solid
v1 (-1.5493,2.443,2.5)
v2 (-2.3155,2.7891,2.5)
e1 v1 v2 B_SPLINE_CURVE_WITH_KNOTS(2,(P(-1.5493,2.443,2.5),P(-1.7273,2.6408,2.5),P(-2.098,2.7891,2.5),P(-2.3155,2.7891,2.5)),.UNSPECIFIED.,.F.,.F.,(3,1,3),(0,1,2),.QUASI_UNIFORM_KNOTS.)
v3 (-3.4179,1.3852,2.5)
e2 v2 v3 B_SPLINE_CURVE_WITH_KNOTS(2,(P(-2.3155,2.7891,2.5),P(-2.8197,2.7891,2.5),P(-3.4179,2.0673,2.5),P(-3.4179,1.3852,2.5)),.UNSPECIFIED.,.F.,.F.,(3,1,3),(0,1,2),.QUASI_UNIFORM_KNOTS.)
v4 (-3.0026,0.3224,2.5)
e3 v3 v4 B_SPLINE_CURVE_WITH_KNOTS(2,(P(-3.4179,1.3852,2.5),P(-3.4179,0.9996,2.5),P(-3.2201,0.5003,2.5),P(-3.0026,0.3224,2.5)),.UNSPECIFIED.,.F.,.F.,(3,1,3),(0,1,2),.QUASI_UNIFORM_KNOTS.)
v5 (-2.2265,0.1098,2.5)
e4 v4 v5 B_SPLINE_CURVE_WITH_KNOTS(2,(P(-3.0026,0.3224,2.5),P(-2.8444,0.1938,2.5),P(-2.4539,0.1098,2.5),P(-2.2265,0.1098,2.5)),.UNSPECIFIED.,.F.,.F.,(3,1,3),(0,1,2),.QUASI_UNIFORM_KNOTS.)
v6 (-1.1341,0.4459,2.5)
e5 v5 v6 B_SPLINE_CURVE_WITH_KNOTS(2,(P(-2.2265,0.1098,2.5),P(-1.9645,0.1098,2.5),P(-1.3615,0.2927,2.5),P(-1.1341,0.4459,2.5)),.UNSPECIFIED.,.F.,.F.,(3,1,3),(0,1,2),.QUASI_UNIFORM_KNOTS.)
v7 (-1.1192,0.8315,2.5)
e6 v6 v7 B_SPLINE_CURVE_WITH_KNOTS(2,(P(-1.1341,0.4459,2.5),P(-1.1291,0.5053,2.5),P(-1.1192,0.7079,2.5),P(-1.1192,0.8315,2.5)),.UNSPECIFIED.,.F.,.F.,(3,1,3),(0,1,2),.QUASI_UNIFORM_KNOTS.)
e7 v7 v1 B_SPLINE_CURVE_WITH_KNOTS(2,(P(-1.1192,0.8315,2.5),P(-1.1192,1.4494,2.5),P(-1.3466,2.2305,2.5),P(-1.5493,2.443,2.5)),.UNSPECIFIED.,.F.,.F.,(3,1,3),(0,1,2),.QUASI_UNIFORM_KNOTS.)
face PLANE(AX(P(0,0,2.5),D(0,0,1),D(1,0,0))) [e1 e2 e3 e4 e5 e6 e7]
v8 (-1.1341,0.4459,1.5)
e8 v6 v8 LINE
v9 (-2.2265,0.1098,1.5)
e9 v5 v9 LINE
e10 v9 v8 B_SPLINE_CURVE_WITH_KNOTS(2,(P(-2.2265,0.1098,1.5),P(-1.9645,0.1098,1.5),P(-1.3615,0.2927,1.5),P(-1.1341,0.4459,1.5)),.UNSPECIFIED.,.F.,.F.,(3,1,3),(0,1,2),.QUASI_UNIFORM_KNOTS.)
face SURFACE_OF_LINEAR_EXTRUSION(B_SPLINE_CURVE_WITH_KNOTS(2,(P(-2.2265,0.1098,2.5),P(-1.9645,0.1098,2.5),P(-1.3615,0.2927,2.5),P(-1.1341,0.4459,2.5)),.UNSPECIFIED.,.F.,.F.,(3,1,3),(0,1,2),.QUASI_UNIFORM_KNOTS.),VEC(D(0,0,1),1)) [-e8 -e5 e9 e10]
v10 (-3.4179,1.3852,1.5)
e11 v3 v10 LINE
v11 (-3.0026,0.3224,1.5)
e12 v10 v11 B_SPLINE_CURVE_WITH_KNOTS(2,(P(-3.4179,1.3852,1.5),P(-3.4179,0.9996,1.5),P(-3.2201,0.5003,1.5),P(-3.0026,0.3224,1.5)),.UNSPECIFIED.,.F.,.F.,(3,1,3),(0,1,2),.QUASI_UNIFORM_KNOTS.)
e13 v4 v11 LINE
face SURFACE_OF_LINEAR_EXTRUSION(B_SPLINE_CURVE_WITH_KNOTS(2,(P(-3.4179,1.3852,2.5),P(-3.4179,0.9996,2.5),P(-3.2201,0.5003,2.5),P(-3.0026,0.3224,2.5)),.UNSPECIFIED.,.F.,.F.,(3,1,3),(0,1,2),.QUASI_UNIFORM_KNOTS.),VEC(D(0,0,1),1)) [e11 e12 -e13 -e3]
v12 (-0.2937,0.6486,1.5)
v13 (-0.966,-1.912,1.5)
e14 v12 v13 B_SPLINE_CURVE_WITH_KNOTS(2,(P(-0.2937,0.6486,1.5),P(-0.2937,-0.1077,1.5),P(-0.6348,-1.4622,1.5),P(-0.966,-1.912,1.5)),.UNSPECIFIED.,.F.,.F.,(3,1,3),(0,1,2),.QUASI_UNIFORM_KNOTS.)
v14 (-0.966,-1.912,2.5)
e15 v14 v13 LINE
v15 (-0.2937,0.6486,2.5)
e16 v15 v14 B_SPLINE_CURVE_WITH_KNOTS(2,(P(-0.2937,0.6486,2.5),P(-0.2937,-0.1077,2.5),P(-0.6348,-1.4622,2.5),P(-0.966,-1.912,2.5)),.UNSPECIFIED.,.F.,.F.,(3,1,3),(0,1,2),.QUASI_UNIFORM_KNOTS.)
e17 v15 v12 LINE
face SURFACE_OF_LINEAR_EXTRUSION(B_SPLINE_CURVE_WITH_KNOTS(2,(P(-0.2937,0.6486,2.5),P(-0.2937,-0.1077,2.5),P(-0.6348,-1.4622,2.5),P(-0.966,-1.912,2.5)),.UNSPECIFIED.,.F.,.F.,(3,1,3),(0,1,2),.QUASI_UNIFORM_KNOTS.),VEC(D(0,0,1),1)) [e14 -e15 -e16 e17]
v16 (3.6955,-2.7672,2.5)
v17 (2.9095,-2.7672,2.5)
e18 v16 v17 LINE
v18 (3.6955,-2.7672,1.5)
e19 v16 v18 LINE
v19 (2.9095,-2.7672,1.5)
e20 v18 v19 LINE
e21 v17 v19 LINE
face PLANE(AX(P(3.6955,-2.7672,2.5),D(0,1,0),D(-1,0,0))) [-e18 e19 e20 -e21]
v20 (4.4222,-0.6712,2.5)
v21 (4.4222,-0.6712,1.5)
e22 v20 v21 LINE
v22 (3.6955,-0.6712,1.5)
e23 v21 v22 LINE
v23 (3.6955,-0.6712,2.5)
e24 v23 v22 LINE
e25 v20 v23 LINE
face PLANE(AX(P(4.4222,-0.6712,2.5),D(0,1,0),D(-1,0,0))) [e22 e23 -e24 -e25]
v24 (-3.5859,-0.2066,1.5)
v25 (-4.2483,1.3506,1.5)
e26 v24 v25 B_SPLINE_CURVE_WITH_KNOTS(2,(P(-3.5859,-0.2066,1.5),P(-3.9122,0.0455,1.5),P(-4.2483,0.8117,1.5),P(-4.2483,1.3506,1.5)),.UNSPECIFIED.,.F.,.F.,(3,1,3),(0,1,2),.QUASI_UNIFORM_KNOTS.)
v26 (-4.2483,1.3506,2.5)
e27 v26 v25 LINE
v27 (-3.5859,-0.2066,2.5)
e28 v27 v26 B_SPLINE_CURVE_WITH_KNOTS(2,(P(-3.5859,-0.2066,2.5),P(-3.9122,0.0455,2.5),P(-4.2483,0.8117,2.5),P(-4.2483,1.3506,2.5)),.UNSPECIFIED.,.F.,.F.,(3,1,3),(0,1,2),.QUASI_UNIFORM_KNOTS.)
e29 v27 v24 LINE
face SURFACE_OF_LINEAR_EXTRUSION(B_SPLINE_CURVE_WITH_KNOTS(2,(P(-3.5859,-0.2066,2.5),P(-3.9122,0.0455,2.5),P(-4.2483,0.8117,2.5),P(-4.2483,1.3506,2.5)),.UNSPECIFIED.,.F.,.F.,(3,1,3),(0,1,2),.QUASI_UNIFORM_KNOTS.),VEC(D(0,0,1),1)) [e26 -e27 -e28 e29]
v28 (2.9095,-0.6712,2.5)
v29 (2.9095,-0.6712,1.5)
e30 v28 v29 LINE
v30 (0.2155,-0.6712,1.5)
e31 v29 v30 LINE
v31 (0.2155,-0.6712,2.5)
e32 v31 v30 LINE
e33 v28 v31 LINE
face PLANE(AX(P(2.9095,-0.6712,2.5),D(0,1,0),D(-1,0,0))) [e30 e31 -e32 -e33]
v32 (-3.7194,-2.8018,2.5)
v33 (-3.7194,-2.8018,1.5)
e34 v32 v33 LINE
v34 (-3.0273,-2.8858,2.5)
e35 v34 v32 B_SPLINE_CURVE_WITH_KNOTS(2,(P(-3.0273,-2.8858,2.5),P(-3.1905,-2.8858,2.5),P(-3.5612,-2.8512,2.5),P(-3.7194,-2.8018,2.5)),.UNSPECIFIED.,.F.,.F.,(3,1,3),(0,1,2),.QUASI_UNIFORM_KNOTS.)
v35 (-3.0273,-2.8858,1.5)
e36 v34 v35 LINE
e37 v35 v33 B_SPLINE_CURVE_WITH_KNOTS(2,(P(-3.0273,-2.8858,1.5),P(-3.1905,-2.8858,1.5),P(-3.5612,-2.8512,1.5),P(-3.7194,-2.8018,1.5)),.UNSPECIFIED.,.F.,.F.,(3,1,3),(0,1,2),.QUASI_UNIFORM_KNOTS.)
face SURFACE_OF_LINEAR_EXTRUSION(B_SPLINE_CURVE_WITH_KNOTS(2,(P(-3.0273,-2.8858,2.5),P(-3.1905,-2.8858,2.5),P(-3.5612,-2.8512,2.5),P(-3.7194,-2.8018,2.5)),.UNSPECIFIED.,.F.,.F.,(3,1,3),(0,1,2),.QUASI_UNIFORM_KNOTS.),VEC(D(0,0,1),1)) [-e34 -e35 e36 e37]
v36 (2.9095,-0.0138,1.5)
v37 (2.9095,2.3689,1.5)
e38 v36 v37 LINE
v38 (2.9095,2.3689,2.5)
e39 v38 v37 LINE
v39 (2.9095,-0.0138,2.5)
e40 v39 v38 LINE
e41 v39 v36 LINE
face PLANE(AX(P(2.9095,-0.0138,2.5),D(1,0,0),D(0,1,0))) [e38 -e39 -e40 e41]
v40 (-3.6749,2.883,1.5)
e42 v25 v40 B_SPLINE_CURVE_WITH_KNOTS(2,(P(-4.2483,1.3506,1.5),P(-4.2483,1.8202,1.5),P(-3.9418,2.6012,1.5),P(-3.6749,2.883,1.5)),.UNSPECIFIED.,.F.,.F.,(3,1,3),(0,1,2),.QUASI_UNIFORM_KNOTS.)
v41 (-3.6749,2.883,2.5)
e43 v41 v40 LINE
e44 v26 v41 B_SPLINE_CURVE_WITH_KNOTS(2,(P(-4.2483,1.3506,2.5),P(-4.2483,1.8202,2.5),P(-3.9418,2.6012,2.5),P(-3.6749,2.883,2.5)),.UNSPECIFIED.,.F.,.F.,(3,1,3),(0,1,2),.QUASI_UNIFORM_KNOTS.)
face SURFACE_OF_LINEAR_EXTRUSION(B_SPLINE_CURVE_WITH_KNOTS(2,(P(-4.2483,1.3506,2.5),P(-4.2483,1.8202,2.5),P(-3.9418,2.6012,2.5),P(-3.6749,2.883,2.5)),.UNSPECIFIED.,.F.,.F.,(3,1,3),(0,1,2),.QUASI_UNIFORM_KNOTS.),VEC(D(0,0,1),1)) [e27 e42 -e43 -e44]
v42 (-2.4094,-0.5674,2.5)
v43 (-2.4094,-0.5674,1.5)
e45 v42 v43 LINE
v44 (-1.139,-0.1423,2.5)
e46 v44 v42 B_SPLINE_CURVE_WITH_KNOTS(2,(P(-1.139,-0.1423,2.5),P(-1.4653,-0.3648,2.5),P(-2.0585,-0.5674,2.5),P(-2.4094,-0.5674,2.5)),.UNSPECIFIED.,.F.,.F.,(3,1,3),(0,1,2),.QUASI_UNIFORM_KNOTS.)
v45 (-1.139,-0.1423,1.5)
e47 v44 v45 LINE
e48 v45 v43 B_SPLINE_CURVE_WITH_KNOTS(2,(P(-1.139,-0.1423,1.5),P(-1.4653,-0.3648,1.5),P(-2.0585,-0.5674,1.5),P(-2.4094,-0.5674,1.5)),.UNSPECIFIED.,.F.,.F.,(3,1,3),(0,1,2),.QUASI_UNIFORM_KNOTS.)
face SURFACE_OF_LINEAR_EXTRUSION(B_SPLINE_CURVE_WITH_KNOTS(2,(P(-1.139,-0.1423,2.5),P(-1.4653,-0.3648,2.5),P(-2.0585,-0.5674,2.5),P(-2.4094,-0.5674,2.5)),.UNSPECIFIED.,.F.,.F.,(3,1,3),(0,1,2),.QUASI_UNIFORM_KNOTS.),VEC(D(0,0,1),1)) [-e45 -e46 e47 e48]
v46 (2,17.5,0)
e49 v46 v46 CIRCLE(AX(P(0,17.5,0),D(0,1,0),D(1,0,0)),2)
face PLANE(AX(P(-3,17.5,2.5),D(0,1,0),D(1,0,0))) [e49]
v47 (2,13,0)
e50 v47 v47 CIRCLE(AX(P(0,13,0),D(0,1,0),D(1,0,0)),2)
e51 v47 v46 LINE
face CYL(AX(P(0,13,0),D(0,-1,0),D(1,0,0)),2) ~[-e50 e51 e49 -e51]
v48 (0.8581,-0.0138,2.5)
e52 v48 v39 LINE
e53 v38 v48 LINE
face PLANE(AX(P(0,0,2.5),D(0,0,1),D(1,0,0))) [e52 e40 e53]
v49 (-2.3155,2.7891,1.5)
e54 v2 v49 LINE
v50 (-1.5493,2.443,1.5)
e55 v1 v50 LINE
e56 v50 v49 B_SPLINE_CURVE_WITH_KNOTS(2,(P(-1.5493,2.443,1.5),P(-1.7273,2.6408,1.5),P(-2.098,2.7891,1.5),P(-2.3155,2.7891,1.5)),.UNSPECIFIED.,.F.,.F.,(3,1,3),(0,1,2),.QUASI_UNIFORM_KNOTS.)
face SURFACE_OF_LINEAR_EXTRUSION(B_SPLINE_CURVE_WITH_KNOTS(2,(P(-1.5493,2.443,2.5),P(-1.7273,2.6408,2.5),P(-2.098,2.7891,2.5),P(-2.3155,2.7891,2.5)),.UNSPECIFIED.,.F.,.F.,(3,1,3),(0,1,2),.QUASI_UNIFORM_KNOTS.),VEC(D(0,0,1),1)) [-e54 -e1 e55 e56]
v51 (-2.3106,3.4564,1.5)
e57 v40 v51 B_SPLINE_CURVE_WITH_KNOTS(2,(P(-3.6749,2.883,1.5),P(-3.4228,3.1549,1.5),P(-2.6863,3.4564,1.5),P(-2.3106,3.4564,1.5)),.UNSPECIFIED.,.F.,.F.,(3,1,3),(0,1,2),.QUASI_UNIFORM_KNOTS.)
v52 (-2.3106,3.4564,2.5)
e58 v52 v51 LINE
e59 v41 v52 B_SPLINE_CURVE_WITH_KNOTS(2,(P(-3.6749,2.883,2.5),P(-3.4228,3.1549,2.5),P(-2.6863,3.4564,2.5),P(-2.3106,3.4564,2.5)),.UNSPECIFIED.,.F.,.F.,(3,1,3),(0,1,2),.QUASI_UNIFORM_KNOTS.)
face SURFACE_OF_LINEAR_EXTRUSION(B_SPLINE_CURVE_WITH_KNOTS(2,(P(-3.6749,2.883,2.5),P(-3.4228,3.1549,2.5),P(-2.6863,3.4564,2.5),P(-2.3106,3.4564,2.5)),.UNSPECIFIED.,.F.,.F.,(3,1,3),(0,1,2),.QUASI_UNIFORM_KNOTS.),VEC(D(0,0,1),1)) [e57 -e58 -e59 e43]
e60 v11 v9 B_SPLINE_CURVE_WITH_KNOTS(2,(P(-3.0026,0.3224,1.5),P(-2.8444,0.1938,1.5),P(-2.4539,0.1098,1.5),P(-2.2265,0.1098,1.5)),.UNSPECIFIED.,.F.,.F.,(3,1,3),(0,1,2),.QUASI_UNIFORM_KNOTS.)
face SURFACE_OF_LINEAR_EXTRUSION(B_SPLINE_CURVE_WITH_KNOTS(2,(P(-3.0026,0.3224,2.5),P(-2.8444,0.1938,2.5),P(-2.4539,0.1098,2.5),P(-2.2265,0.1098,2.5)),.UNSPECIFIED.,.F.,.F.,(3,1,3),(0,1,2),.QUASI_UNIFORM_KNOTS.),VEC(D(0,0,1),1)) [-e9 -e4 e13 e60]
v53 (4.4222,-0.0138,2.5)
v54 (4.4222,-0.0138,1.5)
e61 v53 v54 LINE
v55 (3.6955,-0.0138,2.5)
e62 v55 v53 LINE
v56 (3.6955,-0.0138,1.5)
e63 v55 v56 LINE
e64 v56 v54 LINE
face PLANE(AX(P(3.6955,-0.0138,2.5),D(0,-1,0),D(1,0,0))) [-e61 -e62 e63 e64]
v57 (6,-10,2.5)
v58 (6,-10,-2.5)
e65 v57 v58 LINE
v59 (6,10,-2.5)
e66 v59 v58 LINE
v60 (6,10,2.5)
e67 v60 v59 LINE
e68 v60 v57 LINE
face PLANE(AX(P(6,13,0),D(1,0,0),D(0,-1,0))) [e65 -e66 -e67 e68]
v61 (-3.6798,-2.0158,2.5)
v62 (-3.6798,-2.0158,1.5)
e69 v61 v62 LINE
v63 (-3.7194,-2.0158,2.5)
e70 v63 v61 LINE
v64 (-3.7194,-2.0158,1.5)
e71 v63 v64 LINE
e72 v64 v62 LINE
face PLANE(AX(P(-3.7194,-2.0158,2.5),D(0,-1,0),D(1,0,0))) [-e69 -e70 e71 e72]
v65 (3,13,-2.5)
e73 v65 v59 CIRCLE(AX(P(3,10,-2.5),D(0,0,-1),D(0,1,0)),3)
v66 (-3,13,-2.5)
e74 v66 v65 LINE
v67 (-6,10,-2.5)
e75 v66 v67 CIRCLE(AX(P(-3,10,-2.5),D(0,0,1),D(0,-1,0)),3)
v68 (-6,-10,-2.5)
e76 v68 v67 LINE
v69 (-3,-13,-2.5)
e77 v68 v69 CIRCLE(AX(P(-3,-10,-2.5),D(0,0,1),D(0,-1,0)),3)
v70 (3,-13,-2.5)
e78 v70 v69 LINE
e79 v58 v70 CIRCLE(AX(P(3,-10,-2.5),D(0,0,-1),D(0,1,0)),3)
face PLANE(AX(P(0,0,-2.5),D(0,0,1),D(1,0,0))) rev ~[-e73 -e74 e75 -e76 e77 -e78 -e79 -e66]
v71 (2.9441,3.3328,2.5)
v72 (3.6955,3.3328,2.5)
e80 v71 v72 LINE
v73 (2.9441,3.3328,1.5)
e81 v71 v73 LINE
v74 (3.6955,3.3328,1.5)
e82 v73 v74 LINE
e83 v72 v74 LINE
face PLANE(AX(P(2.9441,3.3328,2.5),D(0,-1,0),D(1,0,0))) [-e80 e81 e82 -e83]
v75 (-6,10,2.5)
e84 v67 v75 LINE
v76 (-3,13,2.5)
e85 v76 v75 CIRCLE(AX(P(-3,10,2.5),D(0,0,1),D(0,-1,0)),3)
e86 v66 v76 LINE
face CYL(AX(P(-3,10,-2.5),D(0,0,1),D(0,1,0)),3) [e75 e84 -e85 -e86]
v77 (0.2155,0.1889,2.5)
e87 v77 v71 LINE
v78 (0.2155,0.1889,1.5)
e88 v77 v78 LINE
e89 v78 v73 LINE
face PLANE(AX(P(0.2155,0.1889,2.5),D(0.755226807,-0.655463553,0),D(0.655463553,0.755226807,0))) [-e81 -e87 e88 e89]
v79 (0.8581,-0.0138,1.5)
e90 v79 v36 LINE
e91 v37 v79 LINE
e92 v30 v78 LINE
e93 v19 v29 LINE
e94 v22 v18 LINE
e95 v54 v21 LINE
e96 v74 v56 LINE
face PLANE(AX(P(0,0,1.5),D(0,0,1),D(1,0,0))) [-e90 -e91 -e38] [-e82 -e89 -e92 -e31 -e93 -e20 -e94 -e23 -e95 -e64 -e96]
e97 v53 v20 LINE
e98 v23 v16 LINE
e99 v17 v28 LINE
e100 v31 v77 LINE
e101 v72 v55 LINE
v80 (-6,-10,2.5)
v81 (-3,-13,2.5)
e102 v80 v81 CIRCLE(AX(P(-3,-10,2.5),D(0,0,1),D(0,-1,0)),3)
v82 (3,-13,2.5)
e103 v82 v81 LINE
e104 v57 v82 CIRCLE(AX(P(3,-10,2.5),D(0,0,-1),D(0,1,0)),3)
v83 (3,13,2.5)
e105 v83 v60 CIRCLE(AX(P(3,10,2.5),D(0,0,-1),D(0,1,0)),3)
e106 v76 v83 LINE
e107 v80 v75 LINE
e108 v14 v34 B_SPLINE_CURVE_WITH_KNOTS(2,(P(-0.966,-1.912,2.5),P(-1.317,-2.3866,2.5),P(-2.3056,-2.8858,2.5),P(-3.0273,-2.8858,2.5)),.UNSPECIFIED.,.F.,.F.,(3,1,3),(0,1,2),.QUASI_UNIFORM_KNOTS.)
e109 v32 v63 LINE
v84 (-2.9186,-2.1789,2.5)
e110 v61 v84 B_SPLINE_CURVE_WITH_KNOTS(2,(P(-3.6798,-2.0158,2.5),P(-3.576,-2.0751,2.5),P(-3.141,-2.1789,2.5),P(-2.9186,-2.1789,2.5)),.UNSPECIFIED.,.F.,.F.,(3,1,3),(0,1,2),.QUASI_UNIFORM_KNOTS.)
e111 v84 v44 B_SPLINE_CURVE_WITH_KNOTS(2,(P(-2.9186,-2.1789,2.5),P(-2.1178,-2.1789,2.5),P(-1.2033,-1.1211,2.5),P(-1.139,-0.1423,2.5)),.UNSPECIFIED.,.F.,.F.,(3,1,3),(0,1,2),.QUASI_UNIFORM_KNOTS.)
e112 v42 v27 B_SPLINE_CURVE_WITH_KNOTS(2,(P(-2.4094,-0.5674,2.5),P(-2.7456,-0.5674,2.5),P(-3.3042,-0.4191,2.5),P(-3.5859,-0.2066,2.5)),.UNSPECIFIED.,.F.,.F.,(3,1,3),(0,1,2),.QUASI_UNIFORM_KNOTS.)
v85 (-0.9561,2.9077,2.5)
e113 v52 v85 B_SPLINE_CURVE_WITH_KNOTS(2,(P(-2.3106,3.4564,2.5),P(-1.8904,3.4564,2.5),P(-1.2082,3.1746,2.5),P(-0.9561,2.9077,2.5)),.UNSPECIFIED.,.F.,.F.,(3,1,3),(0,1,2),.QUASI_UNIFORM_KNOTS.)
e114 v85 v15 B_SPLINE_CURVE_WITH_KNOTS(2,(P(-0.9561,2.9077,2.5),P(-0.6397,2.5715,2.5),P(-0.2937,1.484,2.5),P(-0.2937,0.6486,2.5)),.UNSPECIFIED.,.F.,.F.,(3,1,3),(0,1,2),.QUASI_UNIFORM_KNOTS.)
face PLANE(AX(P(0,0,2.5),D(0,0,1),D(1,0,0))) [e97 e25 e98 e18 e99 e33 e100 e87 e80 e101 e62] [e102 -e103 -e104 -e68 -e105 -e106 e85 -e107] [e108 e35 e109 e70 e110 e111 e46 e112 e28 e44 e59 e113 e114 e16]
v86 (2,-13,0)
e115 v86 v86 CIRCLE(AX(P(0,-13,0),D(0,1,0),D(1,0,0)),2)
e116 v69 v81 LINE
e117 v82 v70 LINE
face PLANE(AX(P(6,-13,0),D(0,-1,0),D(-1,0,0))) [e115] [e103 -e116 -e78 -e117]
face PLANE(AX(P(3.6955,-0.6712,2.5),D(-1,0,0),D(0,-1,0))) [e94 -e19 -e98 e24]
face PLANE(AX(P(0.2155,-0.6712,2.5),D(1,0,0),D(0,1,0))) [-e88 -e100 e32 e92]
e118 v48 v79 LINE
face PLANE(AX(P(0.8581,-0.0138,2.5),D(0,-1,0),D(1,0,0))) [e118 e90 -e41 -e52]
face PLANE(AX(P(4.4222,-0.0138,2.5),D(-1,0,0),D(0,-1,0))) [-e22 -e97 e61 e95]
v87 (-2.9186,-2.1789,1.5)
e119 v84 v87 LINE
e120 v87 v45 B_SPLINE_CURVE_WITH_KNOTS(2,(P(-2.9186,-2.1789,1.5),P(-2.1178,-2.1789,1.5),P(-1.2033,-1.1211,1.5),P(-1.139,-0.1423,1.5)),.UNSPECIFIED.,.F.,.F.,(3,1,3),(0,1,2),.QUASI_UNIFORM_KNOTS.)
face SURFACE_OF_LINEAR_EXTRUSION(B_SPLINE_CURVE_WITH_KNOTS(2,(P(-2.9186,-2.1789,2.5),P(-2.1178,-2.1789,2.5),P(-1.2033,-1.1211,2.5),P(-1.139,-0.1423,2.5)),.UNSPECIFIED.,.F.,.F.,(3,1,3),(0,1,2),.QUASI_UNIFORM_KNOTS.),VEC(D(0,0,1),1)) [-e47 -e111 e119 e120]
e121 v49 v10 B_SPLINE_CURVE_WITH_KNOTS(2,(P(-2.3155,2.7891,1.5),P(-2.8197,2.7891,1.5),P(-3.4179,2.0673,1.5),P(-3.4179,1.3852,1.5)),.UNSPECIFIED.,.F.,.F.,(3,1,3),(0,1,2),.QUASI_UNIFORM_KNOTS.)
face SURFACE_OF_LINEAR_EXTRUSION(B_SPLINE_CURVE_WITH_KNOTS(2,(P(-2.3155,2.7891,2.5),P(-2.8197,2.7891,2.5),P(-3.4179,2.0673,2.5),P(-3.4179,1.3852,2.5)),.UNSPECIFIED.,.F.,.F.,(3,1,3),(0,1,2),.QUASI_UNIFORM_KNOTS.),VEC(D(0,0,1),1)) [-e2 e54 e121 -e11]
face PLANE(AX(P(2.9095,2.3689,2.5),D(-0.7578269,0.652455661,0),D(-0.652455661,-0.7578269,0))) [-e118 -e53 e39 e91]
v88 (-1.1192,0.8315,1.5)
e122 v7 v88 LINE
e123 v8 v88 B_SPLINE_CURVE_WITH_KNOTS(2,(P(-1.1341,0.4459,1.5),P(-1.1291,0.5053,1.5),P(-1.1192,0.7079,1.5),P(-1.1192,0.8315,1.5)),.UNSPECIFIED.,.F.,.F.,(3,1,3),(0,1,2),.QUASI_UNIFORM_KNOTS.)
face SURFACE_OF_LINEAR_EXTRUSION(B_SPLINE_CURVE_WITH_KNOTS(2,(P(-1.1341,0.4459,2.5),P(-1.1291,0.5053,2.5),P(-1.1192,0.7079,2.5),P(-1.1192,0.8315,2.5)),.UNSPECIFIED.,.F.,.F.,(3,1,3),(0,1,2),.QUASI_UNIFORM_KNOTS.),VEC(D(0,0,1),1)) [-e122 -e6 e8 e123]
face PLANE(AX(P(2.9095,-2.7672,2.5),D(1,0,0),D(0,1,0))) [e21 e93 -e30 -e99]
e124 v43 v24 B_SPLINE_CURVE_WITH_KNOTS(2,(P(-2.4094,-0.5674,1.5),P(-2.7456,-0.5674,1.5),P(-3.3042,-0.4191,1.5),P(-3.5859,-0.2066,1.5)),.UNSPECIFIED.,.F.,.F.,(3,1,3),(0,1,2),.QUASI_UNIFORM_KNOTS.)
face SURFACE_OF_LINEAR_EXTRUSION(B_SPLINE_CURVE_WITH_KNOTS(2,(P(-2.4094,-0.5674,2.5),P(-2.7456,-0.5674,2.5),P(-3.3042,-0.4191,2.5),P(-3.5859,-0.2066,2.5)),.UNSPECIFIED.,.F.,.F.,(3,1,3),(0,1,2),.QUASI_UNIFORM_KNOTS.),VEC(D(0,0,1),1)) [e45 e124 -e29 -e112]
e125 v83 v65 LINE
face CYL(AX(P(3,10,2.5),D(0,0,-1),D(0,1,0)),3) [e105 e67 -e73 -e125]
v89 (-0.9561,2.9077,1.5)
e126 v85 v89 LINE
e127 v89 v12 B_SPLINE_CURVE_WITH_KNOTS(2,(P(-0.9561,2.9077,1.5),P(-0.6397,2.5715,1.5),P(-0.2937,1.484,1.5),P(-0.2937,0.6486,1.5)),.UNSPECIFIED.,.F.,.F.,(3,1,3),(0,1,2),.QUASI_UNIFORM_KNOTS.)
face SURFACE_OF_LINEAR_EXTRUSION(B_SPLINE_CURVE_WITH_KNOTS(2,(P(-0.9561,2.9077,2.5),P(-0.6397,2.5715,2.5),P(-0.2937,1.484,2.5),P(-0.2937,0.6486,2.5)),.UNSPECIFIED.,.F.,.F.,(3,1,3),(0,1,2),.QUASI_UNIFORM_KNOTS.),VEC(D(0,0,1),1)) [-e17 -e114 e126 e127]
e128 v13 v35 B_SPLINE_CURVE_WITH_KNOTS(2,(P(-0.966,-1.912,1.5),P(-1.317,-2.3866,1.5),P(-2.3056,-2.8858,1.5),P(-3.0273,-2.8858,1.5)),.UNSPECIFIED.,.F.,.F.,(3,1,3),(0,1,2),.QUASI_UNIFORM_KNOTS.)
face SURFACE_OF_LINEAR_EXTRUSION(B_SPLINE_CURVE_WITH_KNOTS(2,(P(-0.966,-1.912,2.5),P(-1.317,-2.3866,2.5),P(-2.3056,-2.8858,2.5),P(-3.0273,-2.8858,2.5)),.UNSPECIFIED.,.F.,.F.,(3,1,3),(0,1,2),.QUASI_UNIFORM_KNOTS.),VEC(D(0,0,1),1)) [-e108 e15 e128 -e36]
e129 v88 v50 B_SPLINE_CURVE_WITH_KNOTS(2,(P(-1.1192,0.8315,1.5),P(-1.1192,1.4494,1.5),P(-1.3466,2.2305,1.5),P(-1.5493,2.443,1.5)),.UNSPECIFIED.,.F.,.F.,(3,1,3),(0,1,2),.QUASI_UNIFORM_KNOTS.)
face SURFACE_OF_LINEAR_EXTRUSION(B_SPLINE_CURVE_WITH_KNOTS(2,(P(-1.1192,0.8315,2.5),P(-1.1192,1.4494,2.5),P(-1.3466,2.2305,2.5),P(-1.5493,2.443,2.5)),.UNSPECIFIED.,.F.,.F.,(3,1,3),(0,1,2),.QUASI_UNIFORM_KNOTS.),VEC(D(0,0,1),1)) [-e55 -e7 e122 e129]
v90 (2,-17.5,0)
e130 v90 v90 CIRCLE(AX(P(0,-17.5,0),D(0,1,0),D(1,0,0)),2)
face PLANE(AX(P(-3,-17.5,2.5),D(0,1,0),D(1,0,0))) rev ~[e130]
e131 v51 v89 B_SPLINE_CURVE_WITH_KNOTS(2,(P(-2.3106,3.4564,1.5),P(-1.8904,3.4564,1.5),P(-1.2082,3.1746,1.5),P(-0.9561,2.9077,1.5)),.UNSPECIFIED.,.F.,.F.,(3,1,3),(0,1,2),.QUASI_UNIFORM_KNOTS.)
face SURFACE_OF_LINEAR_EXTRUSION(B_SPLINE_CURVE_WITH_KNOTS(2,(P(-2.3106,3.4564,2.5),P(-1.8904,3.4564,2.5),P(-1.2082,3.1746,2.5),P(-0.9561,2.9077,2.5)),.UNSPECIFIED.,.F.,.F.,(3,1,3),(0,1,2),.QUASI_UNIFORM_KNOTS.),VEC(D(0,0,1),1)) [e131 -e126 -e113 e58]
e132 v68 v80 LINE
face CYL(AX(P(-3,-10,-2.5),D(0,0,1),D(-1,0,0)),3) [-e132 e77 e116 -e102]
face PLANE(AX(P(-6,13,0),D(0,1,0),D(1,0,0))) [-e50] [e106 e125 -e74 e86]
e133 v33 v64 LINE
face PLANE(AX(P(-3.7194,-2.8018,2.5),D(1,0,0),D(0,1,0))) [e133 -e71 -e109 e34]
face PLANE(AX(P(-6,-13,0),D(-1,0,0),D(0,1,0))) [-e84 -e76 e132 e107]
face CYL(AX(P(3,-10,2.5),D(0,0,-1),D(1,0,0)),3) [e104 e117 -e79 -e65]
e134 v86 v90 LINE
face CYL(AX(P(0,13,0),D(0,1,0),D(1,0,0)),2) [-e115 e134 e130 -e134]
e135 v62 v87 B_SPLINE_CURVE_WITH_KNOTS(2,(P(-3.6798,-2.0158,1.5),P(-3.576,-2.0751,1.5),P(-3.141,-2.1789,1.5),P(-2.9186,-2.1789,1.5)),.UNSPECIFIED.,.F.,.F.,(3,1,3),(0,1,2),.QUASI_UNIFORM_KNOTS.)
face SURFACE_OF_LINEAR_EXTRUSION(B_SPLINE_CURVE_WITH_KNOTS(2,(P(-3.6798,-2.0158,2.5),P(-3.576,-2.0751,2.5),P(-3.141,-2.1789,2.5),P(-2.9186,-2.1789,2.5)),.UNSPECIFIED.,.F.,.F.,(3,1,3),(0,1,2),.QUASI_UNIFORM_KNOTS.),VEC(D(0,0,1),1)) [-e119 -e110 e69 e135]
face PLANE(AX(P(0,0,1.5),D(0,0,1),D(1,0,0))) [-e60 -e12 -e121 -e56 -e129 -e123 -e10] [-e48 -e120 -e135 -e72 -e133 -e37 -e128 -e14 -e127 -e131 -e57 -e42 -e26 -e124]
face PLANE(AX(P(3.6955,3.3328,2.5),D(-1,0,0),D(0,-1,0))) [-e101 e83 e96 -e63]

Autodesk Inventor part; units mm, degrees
ref_plane "YZ Plane" through (0, 0, 0) normal (1, 0, 0) x (0, 1, 0)
ref_plane "XZ Plane" through (0, 0, 0) normal (0, 1, 0) x (-1, 0, 0)
ref_plane "XY Plane" through (0, 0, 0) normal (0, 0, 1) x (1, 0, 0)
sketch "스케치1" plane through (0, 0, 0) normal (0, 0, 1) x (1, 0, 0)
  line L0 (-6, 13) -> (6, 13)
  line L1 (6, 13) -> (6, -13)
  line L2 (6, -13) -> (-6, -13)
  line L3 (-6, -13) -> (-6, 13)
  line L4 (-6, 13) -> (6, -13) construction
  line L5 (6, 13) -> (-6, -13) construction
  point P0 (0, 0)
  dimension "d0" = 12
  dimension "d1" = 26
extrude "돌출1" add sketch "스케치1" along normal mid plane 5
fillet "모깎기1" radius 3 4 edges at (6, 13, 0) (-6, 13, 0) (6, -13, 0) (-6, -13, 0)
sketch "스케치2" plane through (-3, 13, 2.5) normal (0, 1, 0) x (1, 0, 0)
  circle A0 centre (3, 2.5) radius 2
  dimension "d5" = 4
extrude "돌출2" add sketch "스케치2" along normal blind 4.5 and the other way blind 30.5
sketch "스케치3" plane through (0, 0, 2.5) normal (0, 0, 1) x (1, 0, 0)
  line L0 (-4.5251, 3.4564) -> (4.6298, 3.4564) construction
  line L1 (4.6298, 3.4564) -> (4.6298, -2.8858) construction
  line L2 (4.6298, -2.8858) -> (-4.5251, -2.8858) construction
  line L3 (-4.5251, -2.8858) -> (-4.5251, 3.4564) construction
  spline S0 degree 2 poles (-4.2483, 1.3506) (-4.2483, 1.8202) (-3.9418, 2.6012) (-3.6749, 2.883) knots 0 0 0 1 2 2 2
  spline S1 degree 2 poles (-3.6749, 2.883) (-3.4228, 3.1549) (-2.6863, 3.4564) (-2.3106, 3.4564) knots 0 0 0 1 2 2 2
  spline S2 degree 2 poles (-2.3106, 3.4564) (-1.8904, 3.4564) (-1.2082, 3.1746) (-0.9561, 2.9077) knots 0 0 0 1 2 2 2
  spline S3 degree 2 poles (-0.9561, 2.9077) (-0.6397, 2.5715) (-0.2937, 1.484) (-0.2937, 0.6486) knots 0 0 0 1 2 2 2
  spline S4 degree 2 poles (-0.2937, 0.6486) (-0.2937, -0.1077) (-0.6348, -1.4622) (-0.966, -1.912) knots 0 0 0 1 2 2 2
  spline S5 degree 2 poles (-0.966, -1.912) (-1.317, -2.3866) (-2.3056, -2.8858) (-3.0273, -2.8858) knots 0 0 0 1 2 2 2
  spline S6 degree 2 poles (-3.0273, -2.8858) (-3.1905, -2.8858) (-3.5612, -2.8512) (-3.7194, -2.8018) knots 0 0 0 1 2 2 2
  line L4 (-3.7194, -2.8018) -> (-3.7194, -2.0158)
  line L5 (-3.7194, -2.0158) -> (-3.6798, -2.0158)
  spline S7 degree 2 poles (-3.6798, -2.0158) (-3.576, -2.0751) (-3.141, -2.1789) (-2.9186, -2.1789) knots 0 0 0 1 2 2 2
  spline S8 degree 2 poles (-2.9186, -2.1789) (-2.1178, -2.1789) (-1.2033, -1.1211) (-1.139, -0.1423) knots 0 0 0 1 2 2 2
  spline S9 degree 2 poles (-1.139, -0.1423) (-1.4653, -0.3648) (-2.0585, -0.5674) (-2.4094, -0.5674) knots 0 0 0 1 2 2 2
  spline S10 degree 2 poles (-2.4094, -0.5674) (-2.7456, -0.5674) (-3.3042, -0.4191) (-3.5859, -0.2066) knots 0 0 0 1 2 2 2
  spline S11 degree 2 poles (-3.5859, -0.2066) (-3.9122, 0.0455) (-4.2483, 0.8117) (-4.2483, 1.3506) knots 0 0 0 1 2 2 2
  spline S12 degree 2 poles (-1.1192, 0.8315) (-1.1192, 1.4494) (-1.3466, 2.2305) (-1.5493, 2.443) knots 0 0 0 1 2 2 2
  spline S13 degree 2 poles (-1.5493, 2.443) (-1.7273, 2.6408) (-2.098, 2.7891) (-2.3155, 2.7891) knots 0 0 0 1 2 2 2
  spline S14 degree 2 poles (-2.3155, 2.7891) (-2.8197, 2.7891) (-3.4179, 2.0673) (-3.4179, 1.3852) knots 0 0 0 1 2 2 2
  spline S15 degree 2 poles (-3.4179, 1.3852) (-3.4179, 0.9996) (-3.2201, 0.5003) (-3.0026, 0.3224) knots 0 0 0 1 2 2 2
  spline S16 degree 2 poles (-3.0026, 0.3224) (-2.8444, 0.1938) (-2.4539, 0.1098) (-2.2265, 0.1098) knots 0 0 0 1 2 2 2
  spline S17 degree 2 poles (-2.2265, 0.1098) (-1.9645, 0.1098) (-1.3615, 0.2927) (-1.1341, 0.4459) knots 0 0 0 1 2 2 2
  spline S18 degree 2 poles (-1.1341, 0.4459) (-1.1291, 0.5053) (-1.1192, 0.7079) (-1.1192, 0.8315) knots 0 0 0 1 2 2 2
  line L6 (4.4222, -0.6712) -> (3.6955, -0.6712)
  line L7 (3.6955, -0.6712) -> (3.6955, -2.7672)
  line L8 (3.6955, -2.7672) -> (2.9095, -2.7672)
  line L9 (2.9095, -2.7672) -> (2.9095, -0.6712)
  line L10 (2.9095, -0.6712) -> (0.2155, -0.6712)
  line L11 (0.2155, -0.6712) -> (0.2155, 0.1889)
  line L12 (0.2155, 0.1889) -> (2.9441, 3.3328)
  line L13 (2.9441, 3.3328) -> (3.6955, 3.3328)
  line L14 (3.6955, 3.3328) -> (3.6955, -0.0138)
  line L15 (3.6955, -0.0138) -> (4.4222, -0.0138)
  line L16 (4.4222, -0.0138) -> (4.4222, -0.6712)
  line L17 (2.9095, -0.0138) -> (2.9095, 2.3689)
  line L18 (2.9095, 2.3689) -> (0.8581, -0.0138)
  line L19 (0.8581, -0.0138) -> (2.9095, -0.0138)
  point P0 (0, 0)
extrude "돌출3" cut sketch "스케치3" against normal blind 1
properties part number "16-2"
